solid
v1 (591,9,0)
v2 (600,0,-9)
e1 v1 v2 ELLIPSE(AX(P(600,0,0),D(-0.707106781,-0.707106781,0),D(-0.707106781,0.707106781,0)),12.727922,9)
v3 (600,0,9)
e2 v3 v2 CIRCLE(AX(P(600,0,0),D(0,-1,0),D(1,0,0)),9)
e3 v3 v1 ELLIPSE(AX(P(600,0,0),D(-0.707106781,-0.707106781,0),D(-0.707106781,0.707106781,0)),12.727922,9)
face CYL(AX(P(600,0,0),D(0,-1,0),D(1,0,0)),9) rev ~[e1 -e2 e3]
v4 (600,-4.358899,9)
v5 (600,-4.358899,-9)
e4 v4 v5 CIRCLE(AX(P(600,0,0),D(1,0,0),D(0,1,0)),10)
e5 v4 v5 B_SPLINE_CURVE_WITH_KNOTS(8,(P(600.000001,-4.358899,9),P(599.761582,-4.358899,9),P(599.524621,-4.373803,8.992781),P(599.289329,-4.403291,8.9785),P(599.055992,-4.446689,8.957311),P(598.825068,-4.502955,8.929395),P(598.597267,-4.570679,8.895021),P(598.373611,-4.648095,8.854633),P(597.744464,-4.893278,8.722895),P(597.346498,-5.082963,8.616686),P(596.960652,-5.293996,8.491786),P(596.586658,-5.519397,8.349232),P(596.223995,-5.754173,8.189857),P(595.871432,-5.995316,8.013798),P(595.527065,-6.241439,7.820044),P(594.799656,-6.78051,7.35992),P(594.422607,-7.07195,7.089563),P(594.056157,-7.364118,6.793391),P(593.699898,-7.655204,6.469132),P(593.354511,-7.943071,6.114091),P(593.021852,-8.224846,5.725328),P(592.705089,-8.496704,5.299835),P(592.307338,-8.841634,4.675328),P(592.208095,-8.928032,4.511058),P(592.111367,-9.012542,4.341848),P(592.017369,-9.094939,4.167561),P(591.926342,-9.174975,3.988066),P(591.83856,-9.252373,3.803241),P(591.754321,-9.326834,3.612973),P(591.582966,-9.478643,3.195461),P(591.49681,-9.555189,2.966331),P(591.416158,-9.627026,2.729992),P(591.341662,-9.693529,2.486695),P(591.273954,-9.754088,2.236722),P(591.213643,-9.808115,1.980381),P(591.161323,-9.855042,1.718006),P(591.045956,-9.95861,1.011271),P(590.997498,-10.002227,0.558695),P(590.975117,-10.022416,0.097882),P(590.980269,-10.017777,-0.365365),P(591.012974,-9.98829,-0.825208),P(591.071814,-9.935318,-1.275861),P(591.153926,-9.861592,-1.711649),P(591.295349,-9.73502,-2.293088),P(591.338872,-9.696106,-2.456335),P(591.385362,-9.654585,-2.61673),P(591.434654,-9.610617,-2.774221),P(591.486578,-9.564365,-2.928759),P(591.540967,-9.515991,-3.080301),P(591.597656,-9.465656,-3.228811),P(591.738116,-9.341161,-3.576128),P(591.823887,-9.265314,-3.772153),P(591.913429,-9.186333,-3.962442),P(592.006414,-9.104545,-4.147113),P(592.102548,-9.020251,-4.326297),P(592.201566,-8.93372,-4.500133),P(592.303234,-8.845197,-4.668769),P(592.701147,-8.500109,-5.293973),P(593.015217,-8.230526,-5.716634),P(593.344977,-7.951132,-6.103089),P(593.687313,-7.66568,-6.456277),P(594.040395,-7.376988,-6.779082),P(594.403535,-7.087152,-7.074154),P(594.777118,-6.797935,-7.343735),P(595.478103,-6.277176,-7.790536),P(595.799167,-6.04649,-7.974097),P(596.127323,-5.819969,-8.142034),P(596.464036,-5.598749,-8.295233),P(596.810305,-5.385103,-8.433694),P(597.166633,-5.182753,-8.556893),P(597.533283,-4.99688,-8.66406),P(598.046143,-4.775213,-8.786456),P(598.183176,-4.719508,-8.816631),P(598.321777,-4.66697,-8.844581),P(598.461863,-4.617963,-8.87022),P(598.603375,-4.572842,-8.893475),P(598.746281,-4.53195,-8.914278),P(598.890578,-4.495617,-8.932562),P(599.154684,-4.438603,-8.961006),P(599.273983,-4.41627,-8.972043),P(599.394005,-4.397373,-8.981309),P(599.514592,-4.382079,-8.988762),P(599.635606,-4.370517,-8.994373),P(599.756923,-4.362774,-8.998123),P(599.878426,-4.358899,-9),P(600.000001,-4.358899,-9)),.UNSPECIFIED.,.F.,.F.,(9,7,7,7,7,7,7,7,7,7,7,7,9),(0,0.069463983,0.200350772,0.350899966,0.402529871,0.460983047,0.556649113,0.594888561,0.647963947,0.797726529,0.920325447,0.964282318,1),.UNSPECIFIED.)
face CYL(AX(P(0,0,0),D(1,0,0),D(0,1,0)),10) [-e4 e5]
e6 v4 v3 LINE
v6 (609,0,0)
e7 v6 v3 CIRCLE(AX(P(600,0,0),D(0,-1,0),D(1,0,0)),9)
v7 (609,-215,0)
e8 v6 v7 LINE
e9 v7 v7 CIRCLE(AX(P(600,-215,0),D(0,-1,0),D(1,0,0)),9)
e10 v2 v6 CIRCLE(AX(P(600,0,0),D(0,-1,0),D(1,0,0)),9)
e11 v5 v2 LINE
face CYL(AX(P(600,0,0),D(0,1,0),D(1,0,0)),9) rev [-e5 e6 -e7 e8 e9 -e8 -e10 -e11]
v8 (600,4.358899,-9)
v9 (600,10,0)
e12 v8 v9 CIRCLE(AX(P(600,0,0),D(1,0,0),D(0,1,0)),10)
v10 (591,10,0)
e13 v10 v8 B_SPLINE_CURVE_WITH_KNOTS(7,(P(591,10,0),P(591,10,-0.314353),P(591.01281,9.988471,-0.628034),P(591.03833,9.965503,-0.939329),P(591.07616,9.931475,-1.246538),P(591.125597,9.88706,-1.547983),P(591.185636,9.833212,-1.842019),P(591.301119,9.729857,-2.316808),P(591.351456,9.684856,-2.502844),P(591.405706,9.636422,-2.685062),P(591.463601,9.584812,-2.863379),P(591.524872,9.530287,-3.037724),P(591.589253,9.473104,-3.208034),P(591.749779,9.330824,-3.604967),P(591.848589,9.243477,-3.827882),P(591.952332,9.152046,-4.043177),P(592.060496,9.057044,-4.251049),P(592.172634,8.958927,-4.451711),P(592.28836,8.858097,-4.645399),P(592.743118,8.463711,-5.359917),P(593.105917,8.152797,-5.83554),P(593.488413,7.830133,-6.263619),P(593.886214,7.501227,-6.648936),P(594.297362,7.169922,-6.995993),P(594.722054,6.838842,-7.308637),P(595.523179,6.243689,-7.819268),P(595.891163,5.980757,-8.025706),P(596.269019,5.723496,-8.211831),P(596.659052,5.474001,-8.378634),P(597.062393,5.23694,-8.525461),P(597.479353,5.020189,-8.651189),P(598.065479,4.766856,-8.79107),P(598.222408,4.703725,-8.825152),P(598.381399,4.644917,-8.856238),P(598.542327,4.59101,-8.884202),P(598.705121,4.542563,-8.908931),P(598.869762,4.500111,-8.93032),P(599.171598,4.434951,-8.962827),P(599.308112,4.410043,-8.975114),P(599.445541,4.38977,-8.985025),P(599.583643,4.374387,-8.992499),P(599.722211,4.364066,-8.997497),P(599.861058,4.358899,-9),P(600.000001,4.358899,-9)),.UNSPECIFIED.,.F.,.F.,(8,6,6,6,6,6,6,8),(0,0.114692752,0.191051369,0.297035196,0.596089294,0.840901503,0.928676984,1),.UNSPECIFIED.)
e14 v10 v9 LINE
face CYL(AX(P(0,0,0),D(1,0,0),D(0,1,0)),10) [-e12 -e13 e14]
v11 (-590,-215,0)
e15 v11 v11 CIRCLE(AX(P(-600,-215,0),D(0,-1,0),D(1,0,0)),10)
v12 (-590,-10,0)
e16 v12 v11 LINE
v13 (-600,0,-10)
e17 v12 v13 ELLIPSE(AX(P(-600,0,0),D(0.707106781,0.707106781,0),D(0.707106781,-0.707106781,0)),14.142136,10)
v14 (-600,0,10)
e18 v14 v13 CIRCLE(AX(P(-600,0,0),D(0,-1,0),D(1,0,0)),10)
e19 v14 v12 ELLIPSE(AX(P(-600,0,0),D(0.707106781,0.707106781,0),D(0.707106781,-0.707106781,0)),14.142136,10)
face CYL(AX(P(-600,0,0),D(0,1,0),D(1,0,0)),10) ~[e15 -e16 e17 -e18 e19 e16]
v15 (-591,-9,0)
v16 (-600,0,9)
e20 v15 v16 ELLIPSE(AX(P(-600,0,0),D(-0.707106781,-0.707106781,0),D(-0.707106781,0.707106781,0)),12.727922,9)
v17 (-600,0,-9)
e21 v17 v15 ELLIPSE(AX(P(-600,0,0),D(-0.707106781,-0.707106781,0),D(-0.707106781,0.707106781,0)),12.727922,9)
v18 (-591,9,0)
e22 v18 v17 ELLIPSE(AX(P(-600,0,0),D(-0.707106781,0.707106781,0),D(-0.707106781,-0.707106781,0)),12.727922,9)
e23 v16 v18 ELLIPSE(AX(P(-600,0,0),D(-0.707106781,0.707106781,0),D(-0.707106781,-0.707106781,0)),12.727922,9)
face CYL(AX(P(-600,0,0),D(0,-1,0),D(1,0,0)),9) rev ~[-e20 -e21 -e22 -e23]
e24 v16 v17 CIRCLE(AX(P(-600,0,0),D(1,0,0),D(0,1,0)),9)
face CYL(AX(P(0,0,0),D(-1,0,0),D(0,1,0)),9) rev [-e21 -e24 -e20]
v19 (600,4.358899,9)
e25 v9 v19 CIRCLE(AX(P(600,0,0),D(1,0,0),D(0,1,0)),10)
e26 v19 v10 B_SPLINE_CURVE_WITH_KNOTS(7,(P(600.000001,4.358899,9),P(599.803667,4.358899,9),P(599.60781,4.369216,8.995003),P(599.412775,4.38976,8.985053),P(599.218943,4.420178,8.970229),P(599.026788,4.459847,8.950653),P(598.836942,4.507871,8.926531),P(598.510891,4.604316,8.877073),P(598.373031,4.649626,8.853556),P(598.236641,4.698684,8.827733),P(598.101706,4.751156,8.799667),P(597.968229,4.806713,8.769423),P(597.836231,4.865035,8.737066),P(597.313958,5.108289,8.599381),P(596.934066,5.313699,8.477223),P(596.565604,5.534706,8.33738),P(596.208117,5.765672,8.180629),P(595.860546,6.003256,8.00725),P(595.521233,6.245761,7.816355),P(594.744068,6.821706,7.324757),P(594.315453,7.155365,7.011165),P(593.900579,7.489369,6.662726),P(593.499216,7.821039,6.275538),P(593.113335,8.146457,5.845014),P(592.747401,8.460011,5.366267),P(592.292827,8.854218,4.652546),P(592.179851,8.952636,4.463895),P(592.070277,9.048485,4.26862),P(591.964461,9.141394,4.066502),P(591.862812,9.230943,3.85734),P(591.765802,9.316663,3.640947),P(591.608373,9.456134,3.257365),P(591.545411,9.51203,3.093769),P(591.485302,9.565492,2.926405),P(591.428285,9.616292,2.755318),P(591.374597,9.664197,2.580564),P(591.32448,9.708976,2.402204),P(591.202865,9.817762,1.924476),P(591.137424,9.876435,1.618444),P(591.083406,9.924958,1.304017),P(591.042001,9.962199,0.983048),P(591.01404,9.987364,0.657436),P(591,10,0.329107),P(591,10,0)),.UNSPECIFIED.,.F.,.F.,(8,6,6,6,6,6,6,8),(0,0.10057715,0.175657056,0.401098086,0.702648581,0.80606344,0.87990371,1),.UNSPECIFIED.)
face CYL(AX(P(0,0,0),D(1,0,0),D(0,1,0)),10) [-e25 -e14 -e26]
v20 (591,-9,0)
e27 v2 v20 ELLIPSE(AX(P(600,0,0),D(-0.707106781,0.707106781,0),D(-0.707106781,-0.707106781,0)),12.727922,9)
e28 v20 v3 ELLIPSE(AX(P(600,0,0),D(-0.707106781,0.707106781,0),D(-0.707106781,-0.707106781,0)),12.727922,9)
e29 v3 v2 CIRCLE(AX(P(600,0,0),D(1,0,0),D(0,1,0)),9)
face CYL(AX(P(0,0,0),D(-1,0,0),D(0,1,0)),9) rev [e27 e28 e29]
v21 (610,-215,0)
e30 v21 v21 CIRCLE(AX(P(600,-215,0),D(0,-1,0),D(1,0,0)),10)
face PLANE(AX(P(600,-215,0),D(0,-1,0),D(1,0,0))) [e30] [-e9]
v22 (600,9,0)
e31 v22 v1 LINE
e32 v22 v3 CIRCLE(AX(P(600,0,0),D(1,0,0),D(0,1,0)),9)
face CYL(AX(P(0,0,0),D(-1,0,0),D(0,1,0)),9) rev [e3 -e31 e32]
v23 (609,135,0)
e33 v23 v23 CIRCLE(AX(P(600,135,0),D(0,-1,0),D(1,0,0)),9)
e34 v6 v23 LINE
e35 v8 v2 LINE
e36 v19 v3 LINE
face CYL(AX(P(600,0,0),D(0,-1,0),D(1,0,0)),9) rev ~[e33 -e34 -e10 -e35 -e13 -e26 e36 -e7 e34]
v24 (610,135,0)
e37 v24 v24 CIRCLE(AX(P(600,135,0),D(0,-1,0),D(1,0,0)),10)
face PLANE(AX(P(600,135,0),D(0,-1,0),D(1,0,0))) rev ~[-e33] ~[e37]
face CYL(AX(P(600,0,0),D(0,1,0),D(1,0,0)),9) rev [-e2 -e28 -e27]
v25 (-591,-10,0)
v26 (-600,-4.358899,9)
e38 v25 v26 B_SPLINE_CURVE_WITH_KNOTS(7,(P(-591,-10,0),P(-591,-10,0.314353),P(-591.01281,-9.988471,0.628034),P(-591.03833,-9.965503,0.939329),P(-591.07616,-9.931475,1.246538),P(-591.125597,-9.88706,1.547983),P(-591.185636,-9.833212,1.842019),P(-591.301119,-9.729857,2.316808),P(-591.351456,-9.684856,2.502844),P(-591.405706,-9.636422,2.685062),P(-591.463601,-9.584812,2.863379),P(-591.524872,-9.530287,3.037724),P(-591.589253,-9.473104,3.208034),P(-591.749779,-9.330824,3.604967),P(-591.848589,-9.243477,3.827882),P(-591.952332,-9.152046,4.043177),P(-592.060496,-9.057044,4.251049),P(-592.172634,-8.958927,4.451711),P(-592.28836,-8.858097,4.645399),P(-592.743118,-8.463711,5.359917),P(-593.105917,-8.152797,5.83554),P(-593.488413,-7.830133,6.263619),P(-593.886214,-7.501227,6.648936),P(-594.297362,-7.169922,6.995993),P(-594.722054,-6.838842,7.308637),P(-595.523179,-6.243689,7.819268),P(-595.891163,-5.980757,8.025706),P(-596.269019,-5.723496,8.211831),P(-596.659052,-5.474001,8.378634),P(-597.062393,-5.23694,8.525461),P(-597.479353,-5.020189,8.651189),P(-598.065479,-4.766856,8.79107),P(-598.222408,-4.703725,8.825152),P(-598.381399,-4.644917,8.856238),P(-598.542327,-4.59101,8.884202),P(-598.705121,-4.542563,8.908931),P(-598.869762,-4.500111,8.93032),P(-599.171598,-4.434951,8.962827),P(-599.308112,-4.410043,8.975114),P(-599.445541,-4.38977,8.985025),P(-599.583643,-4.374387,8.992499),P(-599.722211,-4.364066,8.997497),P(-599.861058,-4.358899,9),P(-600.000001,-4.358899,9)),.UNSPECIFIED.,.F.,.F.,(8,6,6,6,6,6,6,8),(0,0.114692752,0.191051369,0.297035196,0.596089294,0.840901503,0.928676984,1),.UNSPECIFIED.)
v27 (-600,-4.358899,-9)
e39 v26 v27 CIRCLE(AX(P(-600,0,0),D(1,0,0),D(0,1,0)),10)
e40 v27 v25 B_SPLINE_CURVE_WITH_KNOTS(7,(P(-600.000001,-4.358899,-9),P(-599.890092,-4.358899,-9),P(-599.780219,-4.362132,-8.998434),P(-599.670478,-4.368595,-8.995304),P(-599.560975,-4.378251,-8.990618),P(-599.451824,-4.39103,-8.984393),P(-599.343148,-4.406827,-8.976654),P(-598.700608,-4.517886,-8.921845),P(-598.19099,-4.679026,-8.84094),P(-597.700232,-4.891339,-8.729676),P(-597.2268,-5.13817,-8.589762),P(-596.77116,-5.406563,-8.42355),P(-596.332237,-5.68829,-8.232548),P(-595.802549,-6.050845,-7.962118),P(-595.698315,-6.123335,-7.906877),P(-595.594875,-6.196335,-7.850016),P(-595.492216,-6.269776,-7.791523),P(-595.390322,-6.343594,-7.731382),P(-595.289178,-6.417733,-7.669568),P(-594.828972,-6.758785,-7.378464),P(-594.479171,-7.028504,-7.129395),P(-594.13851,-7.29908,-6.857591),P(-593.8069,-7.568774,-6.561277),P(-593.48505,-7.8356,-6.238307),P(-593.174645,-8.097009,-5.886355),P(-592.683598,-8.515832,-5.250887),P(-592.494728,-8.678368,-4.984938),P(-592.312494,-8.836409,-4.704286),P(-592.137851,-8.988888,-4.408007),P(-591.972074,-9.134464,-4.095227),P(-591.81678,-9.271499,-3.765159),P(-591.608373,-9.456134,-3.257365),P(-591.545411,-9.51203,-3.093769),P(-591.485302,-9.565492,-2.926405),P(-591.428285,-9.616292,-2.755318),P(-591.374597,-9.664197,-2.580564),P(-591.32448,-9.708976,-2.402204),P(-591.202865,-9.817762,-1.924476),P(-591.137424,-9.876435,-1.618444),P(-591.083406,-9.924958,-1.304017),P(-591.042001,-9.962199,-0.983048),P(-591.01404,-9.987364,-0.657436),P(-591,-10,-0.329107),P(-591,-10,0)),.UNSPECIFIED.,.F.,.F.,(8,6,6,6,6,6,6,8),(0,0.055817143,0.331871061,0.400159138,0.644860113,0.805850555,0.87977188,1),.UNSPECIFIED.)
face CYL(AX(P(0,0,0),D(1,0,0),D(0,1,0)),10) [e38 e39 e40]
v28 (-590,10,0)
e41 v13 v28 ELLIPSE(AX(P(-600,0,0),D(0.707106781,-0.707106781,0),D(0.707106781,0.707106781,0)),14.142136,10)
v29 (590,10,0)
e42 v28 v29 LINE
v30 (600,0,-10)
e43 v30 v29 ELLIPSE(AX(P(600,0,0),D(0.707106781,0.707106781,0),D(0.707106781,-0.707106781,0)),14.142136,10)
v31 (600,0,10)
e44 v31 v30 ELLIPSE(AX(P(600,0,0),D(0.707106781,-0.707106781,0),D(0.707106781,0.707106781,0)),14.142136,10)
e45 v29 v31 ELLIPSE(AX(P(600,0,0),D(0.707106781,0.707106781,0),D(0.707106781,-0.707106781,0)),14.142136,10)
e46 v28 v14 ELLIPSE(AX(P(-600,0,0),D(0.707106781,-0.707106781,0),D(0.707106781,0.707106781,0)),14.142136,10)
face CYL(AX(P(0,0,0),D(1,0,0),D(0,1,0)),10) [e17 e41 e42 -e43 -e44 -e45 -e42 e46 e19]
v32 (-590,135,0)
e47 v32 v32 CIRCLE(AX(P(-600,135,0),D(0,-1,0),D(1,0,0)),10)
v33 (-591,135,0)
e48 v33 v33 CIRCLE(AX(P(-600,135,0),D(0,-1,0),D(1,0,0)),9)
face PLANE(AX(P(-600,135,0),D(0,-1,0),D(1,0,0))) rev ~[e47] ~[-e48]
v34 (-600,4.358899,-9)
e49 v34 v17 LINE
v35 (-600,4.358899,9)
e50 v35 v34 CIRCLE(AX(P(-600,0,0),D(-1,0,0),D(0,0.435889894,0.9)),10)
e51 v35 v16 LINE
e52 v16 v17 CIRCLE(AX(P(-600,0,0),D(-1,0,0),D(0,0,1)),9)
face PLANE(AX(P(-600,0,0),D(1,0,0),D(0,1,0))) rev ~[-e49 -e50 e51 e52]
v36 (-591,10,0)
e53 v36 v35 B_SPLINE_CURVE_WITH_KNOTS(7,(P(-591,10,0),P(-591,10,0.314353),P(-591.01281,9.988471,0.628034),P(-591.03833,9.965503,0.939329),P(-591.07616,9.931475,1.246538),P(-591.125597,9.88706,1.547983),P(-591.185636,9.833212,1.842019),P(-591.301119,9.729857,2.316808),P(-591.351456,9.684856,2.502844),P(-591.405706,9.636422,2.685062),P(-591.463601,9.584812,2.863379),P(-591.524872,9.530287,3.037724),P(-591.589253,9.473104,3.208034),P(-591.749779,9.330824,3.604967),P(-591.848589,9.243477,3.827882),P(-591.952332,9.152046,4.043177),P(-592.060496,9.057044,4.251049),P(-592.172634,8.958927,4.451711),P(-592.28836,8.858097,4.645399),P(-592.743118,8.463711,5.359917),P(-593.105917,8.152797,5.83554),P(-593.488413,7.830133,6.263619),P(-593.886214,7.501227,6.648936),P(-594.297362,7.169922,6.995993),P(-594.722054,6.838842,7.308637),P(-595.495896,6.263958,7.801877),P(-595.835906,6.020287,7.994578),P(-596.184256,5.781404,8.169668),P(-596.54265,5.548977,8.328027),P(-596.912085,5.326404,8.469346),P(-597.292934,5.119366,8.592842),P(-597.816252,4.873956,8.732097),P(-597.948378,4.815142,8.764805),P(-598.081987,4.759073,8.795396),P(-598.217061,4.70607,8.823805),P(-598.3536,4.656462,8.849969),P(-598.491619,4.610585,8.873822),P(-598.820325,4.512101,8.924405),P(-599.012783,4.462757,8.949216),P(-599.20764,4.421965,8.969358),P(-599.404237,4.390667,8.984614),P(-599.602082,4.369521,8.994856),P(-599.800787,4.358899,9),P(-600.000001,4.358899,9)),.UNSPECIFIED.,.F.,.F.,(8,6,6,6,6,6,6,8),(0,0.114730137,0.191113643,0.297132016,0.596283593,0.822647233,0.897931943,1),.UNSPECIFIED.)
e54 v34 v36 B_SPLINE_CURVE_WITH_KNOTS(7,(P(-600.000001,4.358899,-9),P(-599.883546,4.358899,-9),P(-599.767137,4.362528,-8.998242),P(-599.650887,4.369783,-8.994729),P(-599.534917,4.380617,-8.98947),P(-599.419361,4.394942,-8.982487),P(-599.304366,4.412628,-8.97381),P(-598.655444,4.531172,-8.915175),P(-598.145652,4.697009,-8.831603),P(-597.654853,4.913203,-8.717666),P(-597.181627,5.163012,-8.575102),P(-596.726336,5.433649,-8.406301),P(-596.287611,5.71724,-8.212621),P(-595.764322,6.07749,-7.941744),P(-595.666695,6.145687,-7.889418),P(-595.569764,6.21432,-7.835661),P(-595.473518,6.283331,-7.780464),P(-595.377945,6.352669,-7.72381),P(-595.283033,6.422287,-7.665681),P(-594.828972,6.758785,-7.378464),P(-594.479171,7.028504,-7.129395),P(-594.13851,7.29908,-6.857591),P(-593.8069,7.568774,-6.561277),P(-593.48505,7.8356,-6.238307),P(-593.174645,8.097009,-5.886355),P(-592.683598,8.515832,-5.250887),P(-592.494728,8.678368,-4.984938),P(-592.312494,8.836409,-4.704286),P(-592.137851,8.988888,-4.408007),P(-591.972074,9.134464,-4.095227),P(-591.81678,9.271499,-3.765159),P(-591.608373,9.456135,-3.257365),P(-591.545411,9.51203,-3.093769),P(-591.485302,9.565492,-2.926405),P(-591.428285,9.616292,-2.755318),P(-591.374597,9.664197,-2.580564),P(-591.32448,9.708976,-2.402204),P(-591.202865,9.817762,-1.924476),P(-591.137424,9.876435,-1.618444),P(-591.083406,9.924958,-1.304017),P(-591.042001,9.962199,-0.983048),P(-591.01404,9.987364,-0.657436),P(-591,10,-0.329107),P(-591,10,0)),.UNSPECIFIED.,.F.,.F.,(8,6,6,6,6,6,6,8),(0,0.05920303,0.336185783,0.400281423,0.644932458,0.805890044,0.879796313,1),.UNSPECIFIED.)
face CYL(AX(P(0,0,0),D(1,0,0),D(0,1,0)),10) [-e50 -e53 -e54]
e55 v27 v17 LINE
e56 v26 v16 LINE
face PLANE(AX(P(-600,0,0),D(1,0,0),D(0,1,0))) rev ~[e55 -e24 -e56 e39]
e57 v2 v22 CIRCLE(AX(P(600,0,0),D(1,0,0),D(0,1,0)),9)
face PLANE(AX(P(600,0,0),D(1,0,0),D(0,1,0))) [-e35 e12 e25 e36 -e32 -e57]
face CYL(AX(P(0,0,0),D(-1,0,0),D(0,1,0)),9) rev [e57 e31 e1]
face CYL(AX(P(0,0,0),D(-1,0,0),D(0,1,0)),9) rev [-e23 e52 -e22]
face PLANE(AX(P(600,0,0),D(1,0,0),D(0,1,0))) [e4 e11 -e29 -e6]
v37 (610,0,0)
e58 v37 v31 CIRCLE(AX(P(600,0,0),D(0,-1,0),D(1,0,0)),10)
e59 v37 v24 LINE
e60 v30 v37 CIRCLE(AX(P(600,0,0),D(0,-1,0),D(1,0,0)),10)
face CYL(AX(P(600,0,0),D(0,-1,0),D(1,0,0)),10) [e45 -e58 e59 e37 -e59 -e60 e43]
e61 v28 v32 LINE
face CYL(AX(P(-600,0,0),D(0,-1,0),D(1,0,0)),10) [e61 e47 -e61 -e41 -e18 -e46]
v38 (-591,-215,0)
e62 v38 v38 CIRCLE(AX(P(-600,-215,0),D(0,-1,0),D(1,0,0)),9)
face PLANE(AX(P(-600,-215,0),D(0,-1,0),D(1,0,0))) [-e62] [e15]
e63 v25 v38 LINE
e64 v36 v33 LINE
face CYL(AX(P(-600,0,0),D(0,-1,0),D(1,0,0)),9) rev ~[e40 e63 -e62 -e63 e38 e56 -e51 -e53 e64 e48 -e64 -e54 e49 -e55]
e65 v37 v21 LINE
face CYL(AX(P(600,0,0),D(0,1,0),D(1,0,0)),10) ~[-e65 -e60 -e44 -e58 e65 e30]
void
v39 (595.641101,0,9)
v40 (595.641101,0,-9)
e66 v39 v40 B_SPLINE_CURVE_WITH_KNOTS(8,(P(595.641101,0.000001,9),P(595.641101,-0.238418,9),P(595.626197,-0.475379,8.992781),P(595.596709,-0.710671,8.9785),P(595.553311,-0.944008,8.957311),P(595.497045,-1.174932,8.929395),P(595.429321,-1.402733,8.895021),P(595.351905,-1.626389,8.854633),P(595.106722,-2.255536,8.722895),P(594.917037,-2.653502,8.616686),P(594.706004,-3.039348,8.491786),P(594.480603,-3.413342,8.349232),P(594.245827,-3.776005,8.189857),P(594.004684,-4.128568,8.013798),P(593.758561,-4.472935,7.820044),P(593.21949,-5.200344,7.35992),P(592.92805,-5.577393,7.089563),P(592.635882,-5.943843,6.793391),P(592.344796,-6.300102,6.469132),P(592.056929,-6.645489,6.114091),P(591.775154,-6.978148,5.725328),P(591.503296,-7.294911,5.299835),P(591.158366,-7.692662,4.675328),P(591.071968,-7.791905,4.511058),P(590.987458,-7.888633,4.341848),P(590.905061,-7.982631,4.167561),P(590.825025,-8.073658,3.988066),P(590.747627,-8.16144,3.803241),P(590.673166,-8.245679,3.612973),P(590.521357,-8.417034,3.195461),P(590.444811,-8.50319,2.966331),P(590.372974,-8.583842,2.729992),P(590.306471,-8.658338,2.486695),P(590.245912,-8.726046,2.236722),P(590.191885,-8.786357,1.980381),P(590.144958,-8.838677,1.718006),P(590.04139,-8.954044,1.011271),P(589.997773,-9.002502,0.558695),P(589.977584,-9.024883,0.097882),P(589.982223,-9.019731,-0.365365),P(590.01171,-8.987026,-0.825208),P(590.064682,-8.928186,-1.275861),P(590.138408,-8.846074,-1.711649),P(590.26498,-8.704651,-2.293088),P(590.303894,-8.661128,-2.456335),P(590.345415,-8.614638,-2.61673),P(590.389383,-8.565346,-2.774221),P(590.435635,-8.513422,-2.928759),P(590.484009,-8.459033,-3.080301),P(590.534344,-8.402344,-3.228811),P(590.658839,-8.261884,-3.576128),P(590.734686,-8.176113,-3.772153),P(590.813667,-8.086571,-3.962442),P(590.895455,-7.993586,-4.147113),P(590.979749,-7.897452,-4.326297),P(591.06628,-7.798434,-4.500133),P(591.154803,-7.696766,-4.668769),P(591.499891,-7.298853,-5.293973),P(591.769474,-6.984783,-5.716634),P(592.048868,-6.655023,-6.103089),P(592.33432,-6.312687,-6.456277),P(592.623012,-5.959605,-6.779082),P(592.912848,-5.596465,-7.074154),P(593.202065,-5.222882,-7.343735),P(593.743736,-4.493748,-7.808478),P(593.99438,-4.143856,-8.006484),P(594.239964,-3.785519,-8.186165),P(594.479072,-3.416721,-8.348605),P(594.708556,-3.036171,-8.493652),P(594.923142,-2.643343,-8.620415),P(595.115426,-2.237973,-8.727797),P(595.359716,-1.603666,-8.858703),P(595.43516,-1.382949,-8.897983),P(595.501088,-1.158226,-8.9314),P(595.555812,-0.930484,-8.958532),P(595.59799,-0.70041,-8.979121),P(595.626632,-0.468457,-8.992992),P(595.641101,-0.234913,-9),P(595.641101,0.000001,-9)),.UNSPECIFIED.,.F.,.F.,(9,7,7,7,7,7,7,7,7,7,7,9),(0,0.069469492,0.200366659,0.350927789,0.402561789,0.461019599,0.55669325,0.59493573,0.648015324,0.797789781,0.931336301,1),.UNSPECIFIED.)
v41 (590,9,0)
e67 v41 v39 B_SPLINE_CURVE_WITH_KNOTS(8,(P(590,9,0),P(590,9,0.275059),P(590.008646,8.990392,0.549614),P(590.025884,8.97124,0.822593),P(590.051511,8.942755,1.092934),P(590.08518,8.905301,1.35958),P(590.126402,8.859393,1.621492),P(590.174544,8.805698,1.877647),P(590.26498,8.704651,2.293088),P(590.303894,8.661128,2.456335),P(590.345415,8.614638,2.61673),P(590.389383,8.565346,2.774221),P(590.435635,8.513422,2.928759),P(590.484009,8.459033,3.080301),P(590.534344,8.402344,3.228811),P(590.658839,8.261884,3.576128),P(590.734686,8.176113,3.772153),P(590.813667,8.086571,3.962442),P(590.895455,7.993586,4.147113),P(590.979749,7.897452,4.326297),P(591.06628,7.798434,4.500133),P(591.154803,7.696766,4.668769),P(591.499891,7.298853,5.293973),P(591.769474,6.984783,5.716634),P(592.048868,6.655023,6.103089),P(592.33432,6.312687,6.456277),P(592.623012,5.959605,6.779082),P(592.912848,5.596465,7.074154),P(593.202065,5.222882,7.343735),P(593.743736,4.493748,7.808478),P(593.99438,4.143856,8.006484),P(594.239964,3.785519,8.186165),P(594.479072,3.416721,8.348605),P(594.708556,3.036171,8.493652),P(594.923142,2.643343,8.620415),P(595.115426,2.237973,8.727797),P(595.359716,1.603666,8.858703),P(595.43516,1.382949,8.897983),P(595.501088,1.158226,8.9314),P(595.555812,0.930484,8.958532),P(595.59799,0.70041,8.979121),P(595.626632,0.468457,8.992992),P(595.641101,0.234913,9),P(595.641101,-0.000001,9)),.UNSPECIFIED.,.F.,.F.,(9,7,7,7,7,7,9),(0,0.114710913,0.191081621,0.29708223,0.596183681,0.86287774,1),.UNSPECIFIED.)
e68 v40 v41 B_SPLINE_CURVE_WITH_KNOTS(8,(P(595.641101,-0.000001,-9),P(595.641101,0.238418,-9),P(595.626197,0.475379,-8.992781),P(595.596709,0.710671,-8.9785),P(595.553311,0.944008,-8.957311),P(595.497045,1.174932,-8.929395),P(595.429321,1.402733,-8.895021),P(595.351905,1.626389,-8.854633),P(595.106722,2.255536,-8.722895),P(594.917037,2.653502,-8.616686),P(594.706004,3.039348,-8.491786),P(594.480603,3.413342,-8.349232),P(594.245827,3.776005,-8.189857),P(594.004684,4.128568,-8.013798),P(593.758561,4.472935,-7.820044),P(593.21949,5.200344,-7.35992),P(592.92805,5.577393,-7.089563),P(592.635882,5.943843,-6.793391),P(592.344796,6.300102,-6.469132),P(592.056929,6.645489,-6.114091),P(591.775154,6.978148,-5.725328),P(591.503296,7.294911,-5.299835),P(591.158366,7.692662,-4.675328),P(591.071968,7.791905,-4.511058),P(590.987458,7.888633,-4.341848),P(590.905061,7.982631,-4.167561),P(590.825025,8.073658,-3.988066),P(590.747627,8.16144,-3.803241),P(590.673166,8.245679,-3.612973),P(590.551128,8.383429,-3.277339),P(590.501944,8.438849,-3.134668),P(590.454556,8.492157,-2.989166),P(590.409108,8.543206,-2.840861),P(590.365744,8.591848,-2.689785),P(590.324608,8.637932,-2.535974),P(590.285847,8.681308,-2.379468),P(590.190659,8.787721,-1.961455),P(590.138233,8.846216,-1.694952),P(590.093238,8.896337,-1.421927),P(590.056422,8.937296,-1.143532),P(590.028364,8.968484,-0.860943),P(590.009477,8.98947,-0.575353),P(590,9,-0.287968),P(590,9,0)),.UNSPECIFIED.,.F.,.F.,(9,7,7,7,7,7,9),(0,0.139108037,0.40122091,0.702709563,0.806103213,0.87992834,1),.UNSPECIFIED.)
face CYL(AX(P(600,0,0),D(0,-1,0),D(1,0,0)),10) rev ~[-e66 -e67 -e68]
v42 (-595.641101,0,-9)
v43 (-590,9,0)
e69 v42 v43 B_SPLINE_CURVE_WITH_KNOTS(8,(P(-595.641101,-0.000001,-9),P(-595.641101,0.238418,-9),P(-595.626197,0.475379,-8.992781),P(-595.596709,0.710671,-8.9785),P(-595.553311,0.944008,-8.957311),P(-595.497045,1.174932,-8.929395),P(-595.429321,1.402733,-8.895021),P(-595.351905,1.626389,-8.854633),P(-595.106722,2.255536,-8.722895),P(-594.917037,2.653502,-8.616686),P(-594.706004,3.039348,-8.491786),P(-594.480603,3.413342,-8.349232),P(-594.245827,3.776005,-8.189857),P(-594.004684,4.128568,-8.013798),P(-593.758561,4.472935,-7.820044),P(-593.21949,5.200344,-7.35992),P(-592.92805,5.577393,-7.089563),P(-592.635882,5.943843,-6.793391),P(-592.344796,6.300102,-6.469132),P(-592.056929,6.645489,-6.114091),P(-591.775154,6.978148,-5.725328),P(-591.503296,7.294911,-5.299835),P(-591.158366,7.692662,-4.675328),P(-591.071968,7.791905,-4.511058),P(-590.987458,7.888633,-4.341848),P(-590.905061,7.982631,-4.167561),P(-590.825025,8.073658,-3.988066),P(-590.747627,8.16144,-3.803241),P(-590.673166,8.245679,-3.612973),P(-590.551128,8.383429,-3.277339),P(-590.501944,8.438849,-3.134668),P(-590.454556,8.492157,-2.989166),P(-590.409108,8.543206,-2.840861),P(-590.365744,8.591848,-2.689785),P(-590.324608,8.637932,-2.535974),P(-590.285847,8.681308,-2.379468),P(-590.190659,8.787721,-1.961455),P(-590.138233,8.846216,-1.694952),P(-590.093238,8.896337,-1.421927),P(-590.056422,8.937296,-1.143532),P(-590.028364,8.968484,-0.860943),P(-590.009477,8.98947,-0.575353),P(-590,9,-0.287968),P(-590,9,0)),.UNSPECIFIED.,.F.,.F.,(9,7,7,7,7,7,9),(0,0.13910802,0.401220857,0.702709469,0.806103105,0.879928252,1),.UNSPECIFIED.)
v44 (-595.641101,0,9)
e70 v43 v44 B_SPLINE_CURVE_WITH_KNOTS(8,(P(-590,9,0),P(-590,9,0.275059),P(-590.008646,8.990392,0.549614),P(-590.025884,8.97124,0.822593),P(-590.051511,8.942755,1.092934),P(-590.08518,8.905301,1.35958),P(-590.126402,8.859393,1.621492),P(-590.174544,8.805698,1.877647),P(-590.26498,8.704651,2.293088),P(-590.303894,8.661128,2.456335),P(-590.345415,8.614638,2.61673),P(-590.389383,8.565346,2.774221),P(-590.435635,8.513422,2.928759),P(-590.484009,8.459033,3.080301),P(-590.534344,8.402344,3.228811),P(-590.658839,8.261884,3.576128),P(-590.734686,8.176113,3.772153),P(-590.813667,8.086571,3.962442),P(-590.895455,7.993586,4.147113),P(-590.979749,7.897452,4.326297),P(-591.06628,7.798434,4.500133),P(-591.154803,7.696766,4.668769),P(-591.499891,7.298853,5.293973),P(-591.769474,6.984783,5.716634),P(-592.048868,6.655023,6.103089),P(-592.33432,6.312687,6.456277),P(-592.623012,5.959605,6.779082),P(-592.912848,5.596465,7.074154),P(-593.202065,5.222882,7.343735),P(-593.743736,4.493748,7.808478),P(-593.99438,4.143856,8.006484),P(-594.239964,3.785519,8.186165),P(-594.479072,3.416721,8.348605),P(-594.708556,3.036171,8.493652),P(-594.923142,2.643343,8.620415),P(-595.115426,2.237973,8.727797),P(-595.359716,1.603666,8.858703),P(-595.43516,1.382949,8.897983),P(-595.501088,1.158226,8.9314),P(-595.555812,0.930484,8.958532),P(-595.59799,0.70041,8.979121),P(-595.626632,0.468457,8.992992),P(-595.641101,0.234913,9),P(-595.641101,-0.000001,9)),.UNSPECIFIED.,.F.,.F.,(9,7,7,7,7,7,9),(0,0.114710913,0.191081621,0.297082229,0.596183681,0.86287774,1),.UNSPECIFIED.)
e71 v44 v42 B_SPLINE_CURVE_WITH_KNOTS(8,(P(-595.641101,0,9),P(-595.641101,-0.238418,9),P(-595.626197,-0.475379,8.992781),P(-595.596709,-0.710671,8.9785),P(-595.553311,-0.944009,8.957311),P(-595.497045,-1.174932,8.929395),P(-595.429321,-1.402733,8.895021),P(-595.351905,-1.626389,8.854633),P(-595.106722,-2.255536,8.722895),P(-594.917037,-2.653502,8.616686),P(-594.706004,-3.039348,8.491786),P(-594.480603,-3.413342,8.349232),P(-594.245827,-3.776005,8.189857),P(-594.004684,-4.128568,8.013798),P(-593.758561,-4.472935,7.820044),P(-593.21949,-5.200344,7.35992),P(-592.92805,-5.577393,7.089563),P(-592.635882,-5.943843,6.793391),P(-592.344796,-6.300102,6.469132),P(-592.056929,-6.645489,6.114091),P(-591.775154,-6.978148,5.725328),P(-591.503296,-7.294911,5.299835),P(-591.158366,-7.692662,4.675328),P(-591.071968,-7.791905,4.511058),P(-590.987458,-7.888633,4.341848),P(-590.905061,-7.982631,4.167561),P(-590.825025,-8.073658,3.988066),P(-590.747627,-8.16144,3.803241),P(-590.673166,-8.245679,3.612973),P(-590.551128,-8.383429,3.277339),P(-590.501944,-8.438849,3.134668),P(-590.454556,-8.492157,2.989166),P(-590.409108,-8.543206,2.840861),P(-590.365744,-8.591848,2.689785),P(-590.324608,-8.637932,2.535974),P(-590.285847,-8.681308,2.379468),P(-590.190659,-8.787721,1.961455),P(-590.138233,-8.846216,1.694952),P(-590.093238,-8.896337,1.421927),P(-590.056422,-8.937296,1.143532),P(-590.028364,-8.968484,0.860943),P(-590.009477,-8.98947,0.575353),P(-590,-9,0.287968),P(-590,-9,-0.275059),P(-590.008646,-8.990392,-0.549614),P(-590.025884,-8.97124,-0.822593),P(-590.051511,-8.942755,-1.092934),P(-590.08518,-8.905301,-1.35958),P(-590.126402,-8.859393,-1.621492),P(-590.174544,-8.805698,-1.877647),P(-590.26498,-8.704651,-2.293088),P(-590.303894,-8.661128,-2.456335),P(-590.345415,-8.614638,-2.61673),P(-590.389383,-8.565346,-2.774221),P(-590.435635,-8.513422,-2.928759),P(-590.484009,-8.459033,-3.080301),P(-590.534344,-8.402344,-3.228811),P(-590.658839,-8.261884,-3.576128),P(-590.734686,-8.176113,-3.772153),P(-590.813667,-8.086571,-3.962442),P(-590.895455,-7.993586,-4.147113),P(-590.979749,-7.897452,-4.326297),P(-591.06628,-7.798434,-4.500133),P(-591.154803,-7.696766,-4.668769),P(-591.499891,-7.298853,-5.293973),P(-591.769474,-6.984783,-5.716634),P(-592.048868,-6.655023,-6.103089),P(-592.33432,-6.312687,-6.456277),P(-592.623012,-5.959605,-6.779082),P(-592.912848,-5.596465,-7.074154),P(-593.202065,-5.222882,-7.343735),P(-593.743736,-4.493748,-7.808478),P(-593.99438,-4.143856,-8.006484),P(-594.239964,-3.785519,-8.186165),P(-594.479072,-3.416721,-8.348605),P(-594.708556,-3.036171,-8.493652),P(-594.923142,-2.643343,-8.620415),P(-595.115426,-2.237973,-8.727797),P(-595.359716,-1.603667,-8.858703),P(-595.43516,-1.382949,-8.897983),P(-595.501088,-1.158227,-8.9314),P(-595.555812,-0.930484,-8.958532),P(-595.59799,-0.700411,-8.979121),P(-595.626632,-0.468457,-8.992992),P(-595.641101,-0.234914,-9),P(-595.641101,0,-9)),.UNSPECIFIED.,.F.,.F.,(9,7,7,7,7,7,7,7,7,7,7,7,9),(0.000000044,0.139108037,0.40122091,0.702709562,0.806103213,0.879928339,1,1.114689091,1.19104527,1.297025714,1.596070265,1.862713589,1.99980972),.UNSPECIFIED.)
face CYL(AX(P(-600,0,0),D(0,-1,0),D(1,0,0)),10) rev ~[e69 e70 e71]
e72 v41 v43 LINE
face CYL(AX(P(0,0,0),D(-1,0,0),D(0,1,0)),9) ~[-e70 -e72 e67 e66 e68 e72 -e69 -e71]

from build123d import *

# Parameters (mm, degrees)
F0_R          = 10
F0_R_2        = 9
F1_DEPTH      = 600
F2_R          = 10
F2_R_2        = 9
F3_DEPTH      = 215
F3_DEPTH_BACK = 135


with BuildPart() as f1:
    # F0 (on Right) → F1 (new body, symmetric)
    with BuildSketch(Plane.YZ):
        Circle(F0_R)
        Circle(F0_R_2, mode=Mode.SUBTRACT)
    extrude(amount=F1_DEPTH, both=True)

    # F2 (on Front) → F3 (join, two sides)
    with BuildSketch(Plane.XZ) as f3_sk:
        with Locations((-600, 0)):
            Circle(F2_R)
        with Locations((-600, 0)):
            Circle(F2_R_2, mode=Mode.SUBTRACT)
        with Locations((600, 0)):
            Circle(F2_R)
        with Locations((600, 0)):
            Circle(F2_R_2, mode=Mode.SUBTRACT)
    extrude(amount=F3_DEPTH)
    extrude(f3_sk.sketch, amount=-F3_DEPTH_BACK)


solid = f1.part
